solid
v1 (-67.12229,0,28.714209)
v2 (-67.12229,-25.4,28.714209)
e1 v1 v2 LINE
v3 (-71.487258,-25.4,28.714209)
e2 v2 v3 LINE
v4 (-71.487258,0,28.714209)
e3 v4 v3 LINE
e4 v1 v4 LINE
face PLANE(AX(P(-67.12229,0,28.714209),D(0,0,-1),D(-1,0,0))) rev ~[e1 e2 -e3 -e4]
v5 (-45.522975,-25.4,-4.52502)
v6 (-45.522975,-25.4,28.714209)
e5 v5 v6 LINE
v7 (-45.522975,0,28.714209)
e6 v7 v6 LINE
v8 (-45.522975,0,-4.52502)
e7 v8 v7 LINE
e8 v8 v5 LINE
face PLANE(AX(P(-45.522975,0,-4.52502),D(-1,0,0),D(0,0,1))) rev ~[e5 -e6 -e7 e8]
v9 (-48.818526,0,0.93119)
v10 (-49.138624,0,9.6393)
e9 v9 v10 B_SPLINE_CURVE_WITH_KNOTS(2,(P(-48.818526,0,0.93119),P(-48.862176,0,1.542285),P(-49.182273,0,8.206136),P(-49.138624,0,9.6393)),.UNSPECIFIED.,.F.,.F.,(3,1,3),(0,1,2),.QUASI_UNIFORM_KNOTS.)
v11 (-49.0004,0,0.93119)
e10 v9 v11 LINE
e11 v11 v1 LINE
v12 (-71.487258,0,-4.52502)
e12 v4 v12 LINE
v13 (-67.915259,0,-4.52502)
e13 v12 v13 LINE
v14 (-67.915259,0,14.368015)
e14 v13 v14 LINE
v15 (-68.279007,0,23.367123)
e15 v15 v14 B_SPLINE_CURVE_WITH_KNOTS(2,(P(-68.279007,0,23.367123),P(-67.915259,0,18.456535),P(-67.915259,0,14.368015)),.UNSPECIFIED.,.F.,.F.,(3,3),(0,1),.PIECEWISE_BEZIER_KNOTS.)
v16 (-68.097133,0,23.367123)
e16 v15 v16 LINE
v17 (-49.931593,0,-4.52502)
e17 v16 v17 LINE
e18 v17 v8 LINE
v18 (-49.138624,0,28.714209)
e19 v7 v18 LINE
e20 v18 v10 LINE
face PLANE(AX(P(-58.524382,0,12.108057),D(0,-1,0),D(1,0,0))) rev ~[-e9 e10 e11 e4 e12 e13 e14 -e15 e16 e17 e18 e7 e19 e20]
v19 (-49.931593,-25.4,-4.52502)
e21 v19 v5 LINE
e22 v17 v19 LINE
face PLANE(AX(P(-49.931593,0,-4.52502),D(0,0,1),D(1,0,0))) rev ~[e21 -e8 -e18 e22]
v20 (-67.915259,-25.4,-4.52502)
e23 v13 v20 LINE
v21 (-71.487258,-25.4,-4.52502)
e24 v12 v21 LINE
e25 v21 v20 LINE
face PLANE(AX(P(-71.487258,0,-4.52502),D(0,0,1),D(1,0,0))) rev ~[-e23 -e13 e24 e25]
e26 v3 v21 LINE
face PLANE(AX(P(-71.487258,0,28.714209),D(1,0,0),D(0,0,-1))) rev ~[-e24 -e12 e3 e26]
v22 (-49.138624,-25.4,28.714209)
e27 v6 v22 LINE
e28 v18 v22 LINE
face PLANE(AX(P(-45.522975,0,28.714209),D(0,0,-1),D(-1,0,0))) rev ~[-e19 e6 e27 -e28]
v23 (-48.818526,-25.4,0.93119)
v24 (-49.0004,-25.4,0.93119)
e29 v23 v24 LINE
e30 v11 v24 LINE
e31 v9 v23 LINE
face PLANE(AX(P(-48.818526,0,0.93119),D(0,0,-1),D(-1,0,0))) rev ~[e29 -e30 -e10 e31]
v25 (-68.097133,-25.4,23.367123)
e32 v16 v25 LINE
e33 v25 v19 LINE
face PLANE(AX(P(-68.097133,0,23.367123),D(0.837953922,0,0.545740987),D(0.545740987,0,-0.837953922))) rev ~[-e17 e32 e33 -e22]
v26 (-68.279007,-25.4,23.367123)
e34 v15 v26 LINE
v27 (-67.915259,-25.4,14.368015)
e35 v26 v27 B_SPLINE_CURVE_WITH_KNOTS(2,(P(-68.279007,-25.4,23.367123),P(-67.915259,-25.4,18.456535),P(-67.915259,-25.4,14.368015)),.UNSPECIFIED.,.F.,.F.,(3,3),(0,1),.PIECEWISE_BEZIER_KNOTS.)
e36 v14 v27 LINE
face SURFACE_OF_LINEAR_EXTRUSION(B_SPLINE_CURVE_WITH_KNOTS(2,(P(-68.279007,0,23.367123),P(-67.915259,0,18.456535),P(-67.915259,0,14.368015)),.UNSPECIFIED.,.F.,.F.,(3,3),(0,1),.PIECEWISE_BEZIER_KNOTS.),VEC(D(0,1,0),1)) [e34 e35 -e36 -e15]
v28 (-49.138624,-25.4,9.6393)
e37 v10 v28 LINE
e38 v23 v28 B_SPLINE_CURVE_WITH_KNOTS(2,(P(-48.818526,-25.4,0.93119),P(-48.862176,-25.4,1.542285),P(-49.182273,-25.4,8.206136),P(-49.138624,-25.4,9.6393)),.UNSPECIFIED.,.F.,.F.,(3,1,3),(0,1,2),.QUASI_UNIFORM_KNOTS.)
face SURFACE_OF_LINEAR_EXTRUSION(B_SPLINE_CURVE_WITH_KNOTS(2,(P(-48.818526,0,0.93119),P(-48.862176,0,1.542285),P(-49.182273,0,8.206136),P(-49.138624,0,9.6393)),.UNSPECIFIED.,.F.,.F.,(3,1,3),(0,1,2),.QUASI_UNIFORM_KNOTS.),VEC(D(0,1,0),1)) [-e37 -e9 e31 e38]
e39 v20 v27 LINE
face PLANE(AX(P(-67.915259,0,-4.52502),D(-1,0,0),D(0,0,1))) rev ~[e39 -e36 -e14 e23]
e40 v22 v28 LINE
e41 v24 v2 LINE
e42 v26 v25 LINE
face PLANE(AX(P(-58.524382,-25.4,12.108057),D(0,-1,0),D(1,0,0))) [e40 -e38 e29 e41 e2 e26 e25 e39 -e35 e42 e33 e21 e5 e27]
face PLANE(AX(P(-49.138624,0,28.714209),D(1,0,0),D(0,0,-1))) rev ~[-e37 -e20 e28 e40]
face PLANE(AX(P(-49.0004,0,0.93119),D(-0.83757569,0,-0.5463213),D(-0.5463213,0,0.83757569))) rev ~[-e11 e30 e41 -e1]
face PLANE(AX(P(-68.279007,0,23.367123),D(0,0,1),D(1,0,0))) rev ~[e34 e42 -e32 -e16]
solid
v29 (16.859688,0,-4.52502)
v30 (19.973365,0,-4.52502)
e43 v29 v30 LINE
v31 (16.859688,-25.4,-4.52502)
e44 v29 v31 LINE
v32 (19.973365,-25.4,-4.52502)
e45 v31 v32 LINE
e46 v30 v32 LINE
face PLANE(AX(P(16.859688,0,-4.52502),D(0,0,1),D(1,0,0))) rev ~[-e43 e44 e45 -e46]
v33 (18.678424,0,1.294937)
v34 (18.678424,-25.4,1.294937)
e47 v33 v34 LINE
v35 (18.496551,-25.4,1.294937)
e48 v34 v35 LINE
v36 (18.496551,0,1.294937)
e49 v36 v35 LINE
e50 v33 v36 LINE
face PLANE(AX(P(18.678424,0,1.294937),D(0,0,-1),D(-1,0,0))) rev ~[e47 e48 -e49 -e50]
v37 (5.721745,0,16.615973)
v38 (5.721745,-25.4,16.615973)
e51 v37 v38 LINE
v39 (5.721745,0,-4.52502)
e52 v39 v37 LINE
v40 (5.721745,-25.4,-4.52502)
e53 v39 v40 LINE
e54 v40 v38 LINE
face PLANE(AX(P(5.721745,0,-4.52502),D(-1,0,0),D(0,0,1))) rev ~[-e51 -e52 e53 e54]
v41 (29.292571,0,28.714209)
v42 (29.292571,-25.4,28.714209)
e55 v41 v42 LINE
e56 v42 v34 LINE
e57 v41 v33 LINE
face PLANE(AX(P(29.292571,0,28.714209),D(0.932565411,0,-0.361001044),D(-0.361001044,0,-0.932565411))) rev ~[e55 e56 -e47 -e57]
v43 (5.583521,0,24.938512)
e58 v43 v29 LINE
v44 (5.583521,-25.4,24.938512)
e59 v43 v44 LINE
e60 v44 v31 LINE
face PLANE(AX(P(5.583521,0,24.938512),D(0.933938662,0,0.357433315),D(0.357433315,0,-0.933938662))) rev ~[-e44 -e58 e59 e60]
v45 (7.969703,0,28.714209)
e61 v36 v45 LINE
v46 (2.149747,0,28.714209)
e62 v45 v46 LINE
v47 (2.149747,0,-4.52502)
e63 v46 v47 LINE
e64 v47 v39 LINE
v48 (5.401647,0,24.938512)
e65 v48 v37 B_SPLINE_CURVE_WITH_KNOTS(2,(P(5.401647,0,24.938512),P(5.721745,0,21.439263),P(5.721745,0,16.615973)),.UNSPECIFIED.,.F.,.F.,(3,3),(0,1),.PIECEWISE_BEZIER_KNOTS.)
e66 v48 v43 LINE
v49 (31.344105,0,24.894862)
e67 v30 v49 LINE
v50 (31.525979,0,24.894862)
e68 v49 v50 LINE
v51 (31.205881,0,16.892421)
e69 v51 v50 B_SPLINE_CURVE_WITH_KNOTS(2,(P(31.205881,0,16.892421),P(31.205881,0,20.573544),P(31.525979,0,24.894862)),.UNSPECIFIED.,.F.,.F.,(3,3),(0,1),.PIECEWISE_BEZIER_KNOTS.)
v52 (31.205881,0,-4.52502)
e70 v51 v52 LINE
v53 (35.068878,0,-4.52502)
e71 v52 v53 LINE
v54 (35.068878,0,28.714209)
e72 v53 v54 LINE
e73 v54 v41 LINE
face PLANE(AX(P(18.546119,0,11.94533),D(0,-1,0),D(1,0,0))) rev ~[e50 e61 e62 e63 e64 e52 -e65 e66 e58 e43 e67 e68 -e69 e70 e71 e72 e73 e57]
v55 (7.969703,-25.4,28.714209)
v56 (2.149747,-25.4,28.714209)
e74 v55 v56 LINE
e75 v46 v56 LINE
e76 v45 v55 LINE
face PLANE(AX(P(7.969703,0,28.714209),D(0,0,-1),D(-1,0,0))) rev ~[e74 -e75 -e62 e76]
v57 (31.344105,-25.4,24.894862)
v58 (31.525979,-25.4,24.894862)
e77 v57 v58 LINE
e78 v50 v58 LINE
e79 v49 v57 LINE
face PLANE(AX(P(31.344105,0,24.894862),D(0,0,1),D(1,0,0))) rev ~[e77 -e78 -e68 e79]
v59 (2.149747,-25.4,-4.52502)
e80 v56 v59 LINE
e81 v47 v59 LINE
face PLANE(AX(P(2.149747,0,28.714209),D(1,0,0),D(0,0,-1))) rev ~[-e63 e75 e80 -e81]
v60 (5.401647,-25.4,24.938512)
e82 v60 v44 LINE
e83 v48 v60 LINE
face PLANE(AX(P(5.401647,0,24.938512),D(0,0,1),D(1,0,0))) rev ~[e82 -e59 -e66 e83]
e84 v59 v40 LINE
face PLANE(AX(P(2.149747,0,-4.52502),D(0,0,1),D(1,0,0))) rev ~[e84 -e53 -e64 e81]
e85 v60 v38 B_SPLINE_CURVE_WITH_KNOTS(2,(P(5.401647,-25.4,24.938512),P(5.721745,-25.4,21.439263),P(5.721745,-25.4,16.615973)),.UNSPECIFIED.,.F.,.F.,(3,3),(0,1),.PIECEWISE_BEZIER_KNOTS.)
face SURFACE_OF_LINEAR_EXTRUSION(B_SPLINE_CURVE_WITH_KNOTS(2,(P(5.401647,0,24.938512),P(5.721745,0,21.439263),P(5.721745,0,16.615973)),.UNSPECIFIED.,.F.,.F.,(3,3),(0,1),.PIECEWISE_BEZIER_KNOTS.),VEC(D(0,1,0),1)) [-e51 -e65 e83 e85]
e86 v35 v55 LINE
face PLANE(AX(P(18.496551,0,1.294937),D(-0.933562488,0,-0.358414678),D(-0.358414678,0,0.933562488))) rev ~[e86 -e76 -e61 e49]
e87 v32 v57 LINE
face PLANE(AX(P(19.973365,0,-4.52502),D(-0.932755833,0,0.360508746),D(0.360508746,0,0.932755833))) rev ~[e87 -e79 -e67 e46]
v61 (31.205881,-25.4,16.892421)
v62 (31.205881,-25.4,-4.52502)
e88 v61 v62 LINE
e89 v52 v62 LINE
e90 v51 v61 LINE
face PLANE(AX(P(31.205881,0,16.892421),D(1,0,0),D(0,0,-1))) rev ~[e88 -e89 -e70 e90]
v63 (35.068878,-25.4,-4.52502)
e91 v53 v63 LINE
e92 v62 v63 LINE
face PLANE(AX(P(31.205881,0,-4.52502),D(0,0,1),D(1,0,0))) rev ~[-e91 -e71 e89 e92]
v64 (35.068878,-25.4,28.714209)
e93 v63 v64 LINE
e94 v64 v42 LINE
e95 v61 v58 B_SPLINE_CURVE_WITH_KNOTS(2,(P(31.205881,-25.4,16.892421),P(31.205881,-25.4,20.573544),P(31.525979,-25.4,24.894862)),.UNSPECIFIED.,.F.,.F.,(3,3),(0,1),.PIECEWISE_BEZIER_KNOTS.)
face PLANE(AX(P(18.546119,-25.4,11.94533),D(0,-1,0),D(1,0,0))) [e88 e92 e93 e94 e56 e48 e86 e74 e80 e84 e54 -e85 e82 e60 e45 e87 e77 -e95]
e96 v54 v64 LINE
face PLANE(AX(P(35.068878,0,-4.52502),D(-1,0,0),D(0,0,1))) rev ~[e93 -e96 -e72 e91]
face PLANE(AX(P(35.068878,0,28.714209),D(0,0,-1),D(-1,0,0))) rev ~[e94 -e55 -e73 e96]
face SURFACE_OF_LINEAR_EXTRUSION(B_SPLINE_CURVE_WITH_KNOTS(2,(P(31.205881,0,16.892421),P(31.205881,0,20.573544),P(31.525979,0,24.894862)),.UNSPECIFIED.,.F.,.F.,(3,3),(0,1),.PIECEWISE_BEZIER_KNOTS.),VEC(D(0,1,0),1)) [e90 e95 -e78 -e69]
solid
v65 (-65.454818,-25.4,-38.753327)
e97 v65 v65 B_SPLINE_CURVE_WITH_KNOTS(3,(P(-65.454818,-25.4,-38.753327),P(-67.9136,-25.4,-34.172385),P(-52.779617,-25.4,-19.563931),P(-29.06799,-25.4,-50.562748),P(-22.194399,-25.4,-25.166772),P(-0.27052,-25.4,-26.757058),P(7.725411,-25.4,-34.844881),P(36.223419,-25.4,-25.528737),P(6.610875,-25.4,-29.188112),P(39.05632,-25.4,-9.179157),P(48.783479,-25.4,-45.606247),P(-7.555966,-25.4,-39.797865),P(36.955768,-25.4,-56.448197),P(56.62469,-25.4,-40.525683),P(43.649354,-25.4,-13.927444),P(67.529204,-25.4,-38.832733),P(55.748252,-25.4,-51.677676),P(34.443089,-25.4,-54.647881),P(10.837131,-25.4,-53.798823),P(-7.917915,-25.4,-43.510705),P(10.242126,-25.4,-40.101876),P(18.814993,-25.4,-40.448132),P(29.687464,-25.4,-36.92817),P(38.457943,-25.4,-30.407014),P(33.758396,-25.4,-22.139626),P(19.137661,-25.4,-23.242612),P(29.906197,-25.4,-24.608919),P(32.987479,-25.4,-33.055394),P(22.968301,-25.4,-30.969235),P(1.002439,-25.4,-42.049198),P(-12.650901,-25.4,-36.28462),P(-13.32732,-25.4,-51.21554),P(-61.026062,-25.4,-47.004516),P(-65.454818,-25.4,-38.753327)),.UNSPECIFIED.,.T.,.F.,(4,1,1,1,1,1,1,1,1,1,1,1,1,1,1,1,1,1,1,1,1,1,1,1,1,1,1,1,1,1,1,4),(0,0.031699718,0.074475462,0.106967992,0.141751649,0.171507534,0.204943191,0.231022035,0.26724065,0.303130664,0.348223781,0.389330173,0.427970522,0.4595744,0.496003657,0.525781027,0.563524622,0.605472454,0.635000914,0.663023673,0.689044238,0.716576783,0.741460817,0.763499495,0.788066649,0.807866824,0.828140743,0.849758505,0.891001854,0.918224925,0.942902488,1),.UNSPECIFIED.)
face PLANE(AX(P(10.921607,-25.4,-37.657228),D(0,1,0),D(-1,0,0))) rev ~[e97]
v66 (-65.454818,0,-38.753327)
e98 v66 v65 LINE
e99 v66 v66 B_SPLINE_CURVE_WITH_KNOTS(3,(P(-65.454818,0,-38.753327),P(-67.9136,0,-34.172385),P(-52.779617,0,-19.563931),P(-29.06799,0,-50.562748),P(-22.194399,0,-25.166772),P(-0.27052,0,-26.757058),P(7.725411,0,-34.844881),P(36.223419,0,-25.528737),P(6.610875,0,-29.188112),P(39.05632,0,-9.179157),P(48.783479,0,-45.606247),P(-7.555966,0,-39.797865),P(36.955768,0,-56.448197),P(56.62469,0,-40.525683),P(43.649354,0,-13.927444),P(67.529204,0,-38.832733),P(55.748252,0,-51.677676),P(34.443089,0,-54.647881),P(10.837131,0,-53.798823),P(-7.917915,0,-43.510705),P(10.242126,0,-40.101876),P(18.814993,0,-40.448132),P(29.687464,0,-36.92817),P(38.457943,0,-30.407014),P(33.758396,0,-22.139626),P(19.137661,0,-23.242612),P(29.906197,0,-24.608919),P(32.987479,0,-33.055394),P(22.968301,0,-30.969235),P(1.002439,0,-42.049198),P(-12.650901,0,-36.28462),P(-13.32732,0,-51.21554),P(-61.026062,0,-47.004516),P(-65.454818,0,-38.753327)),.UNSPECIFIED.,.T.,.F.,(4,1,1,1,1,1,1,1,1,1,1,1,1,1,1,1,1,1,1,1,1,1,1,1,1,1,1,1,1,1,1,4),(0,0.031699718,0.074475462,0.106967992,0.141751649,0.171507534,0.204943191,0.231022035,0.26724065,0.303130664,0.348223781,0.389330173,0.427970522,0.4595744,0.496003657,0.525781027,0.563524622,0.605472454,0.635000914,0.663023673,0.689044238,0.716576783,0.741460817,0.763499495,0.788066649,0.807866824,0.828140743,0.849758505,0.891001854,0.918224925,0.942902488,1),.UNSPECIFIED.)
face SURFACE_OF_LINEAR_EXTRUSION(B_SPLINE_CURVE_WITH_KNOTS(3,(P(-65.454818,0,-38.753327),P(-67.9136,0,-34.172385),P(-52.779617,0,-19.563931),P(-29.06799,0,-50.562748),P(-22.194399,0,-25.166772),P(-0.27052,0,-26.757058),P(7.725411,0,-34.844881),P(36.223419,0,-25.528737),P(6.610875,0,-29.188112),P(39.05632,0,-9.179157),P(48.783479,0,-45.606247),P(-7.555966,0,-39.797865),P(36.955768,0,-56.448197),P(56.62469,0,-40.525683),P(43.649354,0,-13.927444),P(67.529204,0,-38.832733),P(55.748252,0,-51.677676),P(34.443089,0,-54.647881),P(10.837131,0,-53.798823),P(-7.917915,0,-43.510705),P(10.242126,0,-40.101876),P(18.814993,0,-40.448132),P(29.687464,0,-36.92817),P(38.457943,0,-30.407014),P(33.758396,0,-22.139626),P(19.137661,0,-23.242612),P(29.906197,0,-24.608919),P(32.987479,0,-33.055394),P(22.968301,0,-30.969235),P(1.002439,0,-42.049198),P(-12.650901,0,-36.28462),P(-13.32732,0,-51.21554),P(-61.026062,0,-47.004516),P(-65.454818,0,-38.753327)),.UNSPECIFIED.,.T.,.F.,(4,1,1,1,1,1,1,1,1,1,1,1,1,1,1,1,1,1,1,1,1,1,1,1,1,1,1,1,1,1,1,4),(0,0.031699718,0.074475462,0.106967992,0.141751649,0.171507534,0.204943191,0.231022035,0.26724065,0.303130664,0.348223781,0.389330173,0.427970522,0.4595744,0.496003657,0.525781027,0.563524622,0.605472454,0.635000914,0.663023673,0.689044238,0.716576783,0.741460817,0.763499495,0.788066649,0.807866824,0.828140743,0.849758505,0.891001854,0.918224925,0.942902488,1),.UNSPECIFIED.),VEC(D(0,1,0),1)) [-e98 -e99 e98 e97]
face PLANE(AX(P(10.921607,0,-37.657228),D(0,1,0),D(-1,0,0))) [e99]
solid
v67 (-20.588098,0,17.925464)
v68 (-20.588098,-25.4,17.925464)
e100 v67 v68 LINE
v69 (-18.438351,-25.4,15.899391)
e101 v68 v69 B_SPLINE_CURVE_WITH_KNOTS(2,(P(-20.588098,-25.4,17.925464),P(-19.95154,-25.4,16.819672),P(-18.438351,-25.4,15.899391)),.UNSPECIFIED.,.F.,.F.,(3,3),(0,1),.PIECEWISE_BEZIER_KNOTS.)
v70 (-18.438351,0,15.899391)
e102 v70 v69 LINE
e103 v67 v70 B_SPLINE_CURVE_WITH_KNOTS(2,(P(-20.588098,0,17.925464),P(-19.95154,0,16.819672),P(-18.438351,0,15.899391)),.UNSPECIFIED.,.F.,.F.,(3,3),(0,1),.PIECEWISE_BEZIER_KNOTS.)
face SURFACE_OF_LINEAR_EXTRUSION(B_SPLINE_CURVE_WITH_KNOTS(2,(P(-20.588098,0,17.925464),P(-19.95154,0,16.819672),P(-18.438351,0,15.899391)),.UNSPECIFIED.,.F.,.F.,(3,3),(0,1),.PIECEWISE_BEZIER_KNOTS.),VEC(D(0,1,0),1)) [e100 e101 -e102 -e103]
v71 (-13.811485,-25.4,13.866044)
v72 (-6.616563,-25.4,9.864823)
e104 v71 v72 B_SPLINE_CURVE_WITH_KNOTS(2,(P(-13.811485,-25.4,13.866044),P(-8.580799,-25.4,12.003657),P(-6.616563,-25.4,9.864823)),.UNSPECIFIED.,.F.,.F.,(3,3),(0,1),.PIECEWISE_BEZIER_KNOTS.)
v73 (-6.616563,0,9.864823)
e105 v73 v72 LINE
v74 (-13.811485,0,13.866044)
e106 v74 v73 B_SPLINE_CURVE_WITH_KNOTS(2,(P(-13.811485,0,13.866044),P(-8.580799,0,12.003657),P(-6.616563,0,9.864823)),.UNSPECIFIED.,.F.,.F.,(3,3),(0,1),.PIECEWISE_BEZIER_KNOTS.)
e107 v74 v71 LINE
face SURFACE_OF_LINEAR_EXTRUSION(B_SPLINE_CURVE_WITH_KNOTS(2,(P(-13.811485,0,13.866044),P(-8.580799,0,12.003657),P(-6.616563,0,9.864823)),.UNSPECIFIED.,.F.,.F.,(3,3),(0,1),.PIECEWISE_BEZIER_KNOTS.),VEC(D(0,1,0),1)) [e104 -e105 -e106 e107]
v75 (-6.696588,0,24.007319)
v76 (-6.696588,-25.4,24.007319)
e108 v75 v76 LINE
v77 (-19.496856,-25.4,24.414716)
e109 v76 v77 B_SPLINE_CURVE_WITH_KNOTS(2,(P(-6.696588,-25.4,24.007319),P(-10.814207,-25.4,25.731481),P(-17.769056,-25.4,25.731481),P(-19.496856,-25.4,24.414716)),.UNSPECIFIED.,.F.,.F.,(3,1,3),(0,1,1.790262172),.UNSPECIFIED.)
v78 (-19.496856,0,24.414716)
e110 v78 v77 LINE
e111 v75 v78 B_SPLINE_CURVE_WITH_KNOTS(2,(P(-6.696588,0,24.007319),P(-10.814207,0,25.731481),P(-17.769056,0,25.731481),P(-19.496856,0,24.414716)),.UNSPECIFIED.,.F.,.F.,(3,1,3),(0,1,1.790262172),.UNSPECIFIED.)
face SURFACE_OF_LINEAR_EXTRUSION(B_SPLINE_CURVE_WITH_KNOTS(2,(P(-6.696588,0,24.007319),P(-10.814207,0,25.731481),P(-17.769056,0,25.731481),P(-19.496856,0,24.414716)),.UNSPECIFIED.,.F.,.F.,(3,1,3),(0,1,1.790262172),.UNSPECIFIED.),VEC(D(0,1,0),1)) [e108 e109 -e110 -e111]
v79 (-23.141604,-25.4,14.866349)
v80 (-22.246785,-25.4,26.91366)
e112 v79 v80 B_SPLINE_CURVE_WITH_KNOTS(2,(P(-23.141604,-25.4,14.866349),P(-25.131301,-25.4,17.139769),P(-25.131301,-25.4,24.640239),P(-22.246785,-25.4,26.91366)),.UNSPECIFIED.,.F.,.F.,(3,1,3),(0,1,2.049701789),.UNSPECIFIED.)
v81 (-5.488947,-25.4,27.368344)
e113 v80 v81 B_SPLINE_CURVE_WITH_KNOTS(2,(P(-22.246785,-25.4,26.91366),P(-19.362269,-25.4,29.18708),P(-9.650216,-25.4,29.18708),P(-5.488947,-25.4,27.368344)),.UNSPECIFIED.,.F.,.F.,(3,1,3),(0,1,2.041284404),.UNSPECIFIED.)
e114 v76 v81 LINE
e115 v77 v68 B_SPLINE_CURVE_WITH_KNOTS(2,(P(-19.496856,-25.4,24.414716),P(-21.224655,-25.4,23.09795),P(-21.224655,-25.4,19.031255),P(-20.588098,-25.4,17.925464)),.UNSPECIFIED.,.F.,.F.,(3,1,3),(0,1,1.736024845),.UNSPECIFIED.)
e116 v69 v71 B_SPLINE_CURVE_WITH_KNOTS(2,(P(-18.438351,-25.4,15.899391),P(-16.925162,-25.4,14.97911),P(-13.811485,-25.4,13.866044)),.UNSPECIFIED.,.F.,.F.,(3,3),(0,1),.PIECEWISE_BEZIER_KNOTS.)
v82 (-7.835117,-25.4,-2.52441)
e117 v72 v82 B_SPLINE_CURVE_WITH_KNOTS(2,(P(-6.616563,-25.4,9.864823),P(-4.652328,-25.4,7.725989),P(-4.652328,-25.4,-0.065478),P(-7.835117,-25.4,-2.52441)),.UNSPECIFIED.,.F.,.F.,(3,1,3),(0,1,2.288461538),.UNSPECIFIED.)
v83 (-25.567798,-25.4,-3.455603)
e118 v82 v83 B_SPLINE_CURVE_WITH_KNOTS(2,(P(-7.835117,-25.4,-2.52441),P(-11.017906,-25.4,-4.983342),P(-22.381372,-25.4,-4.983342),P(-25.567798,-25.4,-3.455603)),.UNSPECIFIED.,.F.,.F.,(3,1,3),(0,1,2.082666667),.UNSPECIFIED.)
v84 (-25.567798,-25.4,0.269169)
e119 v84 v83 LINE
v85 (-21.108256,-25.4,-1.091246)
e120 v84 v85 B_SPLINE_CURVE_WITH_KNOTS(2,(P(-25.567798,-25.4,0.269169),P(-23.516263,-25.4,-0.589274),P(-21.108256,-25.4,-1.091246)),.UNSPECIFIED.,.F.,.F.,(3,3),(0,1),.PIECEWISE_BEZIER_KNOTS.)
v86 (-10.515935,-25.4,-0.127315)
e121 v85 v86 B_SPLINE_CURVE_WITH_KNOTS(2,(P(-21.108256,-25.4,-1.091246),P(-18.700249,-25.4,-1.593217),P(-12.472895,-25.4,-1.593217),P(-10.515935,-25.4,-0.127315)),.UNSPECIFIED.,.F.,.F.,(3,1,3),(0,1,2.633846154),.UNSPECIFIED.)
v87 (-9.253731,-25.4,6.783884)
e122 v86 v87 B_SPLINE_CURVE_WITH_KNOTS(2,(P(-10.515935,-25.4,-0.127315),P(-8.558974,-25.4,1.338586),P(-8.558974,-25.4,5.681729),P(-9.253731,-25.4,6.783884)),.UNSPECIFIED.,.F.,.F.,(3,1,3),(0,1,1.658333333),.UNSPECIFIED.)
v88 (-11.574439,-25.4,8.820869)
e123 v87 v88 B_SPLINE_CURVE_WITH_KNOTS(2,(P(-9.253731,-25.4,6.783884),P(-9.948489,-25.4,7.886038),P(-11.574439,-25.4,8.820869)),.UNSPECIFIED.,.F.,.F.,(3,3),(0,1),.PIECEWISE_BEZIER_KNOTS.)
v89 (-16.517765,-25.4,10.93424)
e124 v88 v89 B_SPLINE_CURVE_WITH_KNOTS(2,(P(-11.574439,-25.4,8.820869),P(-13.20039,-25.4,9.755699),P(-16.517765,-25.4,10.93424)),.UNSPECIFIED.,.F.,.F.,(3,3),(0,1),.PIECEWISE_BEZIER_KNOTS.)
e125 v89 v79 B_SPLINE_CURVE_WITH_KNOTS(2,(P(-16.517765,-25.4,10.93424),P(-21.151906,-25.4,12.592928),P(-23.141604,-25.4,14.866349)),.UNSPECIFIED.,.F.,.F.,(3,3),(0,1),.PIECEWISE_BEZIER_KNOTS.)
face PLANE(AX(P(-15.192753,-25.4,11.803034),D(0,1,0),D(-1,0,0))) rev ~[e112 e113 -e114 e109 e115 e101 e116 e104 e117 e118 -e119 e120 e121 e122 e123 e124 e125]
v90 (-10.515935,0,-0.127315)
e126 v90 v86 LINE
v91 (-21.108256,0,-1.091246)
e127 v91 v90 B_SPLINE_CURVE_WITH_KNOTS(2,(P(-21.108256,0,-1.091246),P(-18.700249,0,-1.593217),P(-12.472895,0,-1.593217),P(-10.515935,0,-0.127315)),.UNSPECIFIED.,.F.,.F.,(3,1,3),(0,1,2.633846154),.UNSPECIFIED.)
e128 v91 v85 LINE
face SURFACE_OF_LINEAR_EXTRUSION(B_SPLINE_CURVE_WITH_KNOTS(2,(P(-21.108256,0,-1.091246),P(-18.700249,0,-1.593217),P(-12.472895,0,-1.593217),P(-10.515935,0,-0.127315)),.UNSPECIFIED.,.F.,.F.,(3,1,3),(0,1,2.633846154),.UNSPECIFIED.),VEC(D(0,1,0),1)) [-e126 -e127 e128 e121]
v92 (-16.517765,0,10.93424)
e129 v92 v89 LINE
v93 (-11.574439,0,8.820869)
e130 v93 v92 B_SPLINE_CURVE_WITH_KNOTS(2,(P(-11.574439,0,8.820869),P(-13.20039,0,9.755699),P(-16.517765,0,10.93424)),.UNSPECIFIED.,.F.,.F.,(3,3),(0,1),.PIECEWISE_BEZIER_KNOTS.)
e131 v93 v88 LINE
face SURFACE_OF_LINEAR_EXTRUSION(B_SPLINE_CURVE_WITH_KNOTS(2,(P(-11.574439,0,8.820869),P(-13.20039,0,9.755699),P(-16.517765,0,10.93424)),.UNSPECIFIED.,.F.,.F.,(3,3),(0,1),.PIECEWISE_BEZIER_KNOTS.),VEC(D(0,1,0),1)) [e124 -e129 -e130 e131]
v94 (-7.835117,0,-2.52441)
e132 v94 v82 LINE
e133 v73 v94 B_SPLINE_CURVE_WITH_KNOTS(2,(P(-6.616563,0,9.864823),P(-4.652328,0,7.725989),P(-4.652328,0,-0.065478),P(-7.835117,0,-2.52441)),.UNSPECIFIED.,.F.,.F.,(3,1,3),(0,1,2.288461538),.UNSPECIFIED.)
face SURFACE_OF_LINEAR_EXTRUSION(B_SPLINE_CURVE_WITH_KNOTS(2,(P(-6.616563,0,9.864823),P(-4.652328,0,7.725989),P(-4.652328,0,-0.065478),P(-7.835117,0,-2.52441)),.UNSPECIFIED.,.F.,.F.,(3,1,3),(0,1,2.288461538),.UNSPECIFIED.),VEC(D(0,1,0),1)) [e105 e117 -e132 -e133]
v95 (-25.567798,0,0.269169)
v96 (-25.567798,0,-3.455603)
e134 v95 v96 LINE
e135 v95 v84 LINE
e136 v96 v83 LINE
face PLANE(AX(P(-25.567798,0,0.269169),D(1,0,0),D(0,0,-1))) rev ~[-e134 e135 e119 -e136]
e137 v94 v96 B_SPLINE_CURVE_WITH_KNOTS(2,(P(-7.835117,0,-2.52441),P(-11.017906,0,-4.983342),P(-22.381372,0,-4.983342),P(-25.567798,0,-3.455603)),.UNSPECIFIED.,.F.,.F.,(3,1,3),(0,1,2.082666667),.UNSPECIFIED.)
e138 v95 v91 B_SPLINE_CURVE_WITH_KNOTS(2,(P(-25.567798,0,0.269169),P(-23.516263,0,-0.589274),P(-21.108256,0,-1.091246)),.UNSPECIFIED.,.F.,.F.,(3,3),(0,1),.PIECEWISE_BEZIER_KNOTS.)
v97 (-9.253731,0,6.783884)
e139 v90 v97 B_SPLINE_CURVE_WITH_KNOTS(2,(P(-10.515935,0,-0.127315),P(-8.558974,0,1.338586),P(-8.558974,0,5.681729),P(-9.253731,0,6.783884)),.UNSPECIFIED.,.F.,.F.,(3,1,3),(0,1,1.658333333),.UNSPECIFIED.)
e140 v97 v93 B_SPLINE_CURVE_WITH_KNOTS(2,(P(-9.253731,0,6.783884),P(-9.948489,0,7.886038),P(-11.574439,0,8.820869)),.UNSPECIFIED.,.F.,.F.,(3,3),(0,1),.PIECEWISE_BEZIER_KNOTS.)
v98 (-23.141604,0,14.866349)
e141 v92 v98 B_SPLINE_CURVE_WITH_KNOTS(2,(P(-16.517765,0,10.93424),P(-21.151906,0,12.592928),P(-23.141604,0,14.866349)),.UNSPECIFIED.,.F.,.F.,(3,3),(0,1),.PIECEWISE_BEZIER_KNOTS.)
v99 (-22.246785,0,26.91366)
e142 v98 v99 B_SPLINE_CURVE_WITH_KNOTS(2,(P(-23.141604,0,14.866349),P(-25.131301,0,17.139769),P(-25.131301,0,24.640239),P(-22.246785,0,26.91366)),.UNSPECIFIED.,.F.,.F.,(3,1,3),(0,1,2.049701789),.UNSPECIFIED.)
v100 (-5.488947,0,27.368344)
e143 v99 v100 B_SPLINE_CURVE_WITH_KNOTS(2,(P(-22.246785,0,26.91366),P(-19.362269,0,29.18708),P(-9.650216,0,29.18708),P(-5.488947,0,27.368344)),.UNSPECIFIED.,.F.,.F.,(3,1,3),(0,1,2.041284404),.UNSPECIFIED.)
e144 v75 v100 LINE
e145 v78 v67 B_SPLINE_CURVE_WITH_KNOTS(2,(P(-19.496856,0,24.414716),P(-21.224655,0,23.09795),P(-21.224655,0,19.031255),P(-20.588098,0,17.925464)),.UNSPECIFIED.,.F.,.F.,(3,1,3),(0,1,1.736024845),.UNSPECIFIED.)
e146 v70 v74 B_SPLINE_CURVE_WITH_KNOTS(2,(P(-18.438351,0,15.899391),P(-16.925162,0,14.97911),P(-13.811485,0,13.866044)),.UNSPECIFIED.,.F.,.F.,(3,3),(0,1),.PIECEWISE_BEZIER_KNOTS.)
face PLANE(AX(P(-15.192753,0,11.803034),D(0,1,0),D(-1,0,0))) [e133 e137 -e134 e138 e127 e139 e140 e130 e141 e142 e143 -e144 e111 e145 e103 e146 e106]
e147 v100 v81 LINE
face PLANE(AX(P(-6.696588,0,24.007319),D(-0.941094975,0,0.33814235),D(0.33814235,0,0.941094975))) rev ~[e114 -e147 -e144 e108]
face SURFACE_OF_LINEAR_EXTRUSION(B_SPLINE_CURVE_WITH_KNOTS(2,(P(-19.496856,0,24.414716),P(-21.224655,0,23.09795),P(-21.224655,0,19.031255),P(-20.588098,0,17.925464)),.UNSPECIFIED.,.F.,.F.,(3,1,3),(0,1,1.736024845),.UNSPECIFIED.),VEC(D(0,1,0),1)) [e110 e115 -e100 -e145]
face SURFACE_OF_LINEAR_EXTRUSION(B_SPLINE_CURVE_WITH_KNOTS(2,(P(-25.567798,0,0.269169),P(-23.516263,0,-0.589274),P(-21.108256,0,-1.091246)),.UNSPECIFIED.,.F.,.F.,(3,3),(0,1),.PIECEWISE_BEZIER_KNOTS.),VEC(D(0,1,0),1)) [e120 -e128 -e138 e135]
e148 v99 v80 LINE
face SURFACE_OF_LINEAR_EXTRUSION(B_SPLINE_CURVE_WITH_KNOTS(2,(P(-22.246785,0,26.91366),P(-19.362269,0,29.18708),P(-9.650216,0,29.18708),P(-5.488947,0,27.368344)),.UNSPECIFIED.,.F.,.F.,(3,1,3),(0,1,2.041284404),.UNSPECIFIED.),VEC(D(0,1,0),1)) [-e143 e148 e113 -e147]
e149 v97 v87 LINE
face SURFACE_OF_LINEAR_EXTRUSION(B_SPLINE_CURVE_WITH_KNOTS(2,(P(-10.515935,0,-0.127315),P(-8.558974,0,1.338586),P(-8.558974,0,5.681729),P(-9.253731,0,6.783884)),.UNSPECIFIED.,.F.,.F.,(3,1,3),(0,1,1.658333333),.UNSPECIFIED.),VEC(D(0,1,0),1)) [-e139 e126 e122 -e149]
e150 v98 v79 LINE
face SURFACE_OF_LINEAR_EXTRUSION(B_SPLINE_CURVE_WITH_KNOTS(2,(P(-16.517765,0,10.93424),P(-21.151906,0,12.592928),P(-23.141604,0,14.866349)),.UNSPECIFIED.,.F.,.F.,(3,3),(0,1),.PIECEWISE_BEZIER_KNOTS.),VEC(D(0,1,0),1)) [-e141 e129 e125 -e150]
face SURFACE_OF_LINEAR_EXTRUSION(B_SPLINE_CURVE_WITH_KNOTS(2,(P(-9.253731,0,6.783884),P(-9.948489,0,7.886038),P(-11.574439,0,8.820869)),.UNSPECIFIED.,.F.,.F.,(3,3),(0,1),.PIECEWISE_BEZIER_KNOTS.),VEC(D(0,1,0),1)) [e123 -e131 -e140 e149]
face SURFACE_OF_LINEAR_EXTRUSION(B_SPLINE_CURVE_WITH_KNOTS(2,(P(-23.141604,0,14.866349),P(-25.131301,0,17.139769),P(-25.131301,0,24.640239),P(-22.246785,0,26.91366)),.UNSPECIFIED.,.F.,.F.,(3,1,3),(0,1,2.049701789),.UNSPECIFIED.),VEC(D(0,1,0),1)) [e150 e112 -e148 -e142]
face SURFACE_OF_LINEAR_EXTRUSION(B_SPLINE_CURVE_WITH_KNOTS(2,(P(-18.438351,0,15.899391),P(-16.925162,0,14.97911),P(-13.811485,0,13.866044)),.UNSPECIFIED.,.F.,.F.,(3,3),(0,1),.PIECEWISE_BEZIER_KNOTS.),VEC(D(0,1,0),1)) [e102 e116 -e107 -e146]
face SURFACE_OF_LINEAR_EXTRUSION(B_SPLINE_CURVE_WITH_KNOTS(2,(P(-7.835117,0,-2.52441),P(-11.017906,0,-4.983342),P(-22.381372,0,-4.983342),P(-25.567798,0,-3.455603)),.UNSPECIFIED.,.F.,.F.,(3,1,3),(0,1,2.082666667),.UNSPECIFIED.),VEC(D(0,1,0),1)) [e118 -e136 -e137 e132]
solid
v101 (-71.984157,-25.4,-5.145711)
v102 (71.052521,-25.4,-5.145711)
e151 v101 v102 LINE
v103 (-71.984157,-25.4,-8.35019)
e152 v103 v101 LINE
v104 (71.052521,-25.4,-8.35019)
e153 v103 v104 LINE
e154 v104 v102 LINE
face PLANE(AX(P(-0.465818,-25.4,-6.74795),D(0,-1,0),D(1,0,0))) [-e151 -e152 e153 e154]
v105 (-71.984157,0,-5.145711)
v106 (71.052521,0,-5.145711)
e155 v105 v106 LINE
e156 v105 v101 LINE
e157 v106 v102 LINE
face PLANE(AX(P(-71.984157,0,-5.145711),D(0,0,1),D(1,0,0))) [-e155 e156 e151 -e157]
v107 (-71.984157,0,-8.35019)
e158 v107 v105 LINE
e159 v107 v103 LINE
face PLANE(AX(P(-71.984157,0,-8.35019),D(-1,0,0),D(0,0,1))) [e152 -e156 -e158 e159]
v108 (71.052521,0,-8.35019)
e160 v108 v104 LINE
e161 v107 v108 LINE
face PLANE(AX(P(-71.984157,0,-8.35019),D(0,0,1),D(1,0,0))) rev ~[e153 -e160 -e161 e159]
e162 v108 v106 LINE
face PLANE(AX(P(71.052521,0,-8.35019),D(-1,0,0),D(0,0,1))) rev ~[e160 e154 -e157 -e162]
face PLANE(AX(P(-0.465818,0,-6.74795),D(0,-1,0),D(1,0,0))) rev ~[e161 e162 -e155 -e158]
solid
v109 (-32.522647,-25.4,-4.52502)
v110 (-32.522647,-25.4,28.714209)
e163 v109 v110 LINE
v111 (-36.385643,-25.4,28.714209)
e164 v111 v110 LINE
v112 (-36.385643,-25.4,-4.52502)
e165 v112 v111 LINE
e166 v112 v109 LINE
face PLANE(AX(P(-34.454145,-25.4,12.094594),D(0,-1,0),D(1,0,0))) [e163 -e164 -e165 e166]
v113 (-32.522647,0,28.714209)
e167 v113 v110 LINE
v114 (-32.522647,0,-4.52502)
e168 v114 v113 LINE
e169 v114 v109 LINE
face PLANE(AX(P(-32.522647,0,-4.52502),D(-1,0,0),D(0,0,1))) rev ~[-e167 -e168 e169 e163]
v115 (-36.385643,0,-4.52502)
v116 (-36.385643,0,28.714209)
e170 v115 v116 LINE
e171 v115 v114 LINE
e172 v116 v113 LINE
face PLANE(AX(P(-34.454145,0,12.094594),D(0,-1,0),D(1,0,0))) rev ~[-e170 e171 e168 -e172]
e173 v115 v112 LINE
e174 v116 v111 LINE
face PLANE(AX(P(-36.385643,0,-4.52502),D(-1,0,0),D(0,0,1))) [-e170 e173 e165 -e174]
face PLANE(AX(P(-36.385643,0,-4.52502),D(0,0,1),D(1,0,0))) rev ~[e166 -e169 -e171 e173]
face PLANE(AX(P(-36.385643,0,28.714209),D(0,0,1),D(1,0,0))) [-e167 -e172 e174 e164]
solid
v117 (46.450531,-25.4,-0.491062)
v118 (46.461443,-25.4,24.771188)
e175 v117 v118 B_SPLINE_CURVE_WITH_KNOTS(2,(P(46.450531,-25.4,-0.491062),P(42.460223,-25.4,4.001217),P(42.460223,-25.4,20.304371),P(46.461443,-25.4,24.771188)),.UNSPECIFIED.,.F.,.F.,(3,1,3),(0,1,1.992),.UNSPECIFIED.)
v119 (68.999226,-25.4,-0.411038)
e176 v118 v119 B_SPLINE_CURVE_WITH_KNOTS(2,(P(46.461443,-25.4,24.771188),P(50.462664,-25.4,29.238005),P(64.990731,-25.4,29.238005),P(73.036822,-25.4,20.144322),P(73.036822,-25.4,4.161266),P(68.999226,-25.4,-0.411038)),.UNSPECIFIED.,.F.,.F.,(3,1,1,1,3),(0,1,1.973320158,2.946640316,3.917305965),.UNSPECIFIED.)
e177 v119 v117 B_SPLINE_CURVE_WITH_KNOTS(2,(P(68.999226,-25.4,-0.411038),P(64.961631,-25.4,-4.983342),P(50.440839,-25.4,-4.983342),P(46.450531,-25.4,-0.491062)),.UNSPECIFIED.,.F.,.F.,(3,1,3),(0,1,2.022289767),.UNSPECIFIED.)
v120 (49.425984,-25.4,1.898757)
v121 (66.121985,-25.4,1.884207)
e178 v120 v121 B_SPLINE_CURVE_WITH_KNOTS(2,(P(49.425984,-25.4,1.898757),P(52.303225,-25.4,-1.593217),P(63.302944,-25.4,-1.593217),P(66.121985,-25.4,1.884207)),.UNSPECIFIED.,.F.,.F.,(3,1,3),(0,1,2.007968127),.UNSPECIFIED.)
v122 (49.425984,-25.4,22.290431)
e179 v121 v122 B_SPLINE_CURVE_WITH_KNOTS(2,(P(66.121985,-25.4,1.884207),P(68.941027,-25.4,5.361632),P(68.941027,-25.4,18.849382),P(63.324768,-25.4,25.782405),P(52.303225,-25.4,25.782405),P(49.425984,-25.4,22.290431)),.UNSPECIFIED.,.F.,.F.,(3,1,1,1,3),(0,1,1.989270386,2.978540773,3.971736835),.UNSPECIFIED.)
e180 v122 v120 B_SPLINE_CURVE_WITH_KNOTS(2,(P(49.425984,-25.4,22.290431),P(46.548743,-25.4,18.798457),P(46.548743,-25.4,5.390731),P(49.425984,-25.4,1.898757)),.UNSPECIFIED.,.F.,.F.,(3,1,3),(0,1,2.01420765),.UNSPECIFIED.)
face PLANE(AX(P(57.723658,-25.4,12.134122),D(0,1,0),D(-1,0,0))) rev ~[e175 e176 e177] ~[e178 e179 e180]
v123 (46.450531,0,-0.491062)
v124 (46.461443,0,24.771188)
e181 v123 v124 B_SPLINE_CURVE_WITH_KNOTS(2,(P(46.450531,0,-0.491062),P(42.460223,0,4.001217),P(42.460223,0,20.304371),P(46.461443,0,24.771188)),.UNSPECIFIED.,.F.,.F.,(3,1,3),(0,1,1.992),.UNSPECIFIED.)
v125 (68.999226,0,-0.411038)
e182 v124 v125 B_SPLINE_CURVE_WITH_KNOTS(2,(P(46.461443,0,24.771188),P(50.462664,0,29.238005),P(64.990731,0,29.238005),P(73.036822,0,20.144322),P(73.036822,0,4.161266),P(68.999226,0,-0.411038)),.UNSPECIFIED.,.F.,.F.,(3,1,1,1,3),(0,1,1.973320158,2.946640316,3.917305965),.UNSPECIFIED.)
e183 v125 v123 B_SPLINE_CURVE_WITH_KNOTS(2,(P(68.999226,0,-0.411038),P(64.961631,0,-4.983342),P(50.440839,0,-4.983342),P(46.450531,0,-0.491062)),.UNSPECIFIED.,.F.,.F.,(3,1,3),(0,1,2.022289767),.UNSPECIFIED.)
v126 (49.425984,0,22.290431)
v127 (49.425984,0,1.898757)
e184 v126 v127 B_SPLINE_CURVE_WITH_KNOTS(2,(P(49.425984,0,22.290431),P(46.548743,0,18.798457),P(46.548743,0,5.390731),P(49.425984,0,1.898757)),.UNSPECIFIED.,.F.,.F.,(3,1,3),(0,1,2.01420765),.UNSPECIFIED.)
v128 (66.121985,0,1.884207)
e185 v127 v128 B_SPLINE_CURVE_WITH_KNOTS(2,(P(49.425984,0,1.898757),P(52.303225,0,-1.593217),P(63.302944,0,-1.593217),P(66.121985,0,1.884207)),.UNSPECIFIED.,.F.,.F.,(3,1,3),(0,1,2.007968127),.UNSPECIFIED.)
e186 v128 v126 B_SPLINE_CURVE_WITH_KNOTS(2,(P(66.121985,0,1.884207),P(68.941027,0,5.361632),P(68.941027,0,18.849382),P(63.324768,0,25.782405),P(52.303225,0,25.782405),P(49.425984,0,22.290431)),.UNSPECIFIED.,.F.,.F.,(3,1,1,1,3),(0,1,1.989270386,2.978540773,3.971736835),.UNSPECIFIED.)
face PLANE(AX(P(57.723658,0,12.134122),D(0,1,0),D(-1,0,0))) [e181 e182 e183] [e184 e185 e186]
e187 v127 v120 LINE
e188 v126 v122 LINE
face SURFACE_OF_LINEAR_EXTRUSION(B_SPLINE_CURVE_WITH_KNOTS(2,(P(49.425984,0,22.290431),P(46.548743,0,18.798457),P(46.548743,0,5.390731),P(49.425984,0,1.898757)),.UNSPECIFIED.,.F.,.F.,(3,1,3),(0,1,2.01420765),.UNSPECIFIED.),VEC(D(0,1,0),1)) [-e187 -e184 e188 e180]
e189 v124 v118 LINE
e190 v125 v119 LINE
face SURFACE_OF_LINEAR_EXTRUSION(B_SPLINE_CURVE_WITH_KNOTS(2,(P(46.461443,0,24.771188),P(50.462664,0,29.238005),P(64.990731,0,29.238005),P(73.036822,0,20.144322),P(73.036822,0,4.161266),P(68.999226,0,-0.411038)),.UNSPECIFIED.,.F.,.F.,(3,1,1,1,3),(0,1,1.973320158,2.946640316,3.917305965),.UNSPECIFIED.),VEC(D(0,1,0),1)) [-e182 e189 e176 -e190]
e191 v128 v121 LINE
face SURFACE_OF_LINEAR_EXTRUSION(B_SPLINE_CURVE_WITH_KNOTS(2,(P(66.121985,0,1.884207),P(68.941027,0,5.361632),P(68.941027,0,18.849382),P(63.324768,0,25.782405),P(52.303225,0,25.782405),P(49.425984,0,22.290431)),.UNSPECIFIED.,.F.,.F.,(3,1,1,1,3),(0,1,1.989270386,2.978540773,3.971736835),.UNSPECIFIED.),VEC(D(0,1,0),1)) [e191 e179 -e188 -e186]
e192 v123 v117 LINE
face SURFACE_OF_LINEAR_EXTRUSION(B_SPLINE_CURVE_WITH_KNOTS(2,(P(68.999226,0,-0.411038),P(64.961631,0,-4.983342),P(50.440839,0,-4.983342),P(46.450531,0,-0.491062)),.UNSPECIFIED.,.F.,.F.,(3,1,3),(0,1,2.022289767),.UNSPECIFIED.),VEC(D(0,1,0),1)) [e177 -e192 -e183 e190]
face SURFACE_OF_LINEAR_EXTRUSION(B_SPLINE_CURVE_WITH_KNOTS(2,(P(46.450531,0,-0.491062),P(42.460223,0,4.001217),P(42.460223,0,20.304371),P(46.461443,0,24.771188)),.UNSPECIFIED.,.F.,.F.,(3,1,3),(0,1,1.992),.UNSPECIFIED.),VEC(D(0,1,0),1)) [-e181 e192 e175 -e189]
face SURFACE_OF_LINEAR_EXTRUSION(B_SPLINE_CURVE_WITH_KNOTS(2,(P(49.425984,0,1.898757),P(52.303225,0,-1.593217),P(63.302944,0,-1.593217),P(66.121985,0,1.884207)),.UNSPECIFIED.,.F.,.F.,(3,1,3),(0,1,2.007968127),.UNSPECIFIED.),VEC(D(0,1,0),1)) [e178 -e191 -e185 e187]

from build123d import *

# Parameters (mm, degrees)
F1_DEPTH = 25.4
F0_W     = 3.8629963886
F0_H     = 33.2392288127
F2_DEPTH = 25.4
F3_DEPTH = 25.4
F4_DEPTH = 25.4
F5_DEPTH = 25.4
F6_W     = 143.0366784334
F6_H     = 3.2044788823
F7_DEPTH = 25.4
F9_DEPTH = 25.4


with BuildPart() as f1:
    # F0 (on Front) → F1 (new body)
    with BuildSketch(Plane.XZ):
        with BuildLine():
            Line((-49.9315926803, -4.5250200819), (-45.5229753328, -4.5250200819))
            Line((-45.5229753328, -4.5250200819), (-45.5229753328, 28.7142087308))
            Line((-45.5229753328, 28.7142087308), (-49.1386235534, 28.7142087308))
            Line((-49.1386235534, 28.7142087308), (-49.1386235534, 9.6393000097))
            add(Edge.make_bspline(
                [(-49.0222244155, 4.8742103024), (-49.1822732301, 8.2061356244), (-49.1386235534, 9.6393000097)],
                knots=[0, 0, 0, 1, 1, 1], degree=2))
            add(Edge.make_bspline(
                [(-48.8185259242, 0.9311895065), (-48.8621756009, 1.5422849804), (-49.0222244155, 4.8742103024)],
                knots=[0, 0, 0, 1, 1, 1], degree=2))
            Line((-48.8185259242, 0.9311895065), (-49.0003995772, 0.9311895065))
            Line((-49.0003995772, 0.9311895065), (-67.1222903569, 28.7142087308))
            Line((-67.1222903569, 28.7142087308), (-71.4872580276, 28.7142087308))
            Line((-71.4872580276, 28.7142087308), (-71.4872580276, -4.5250200819))
            Line((-71.4872580276, -4.5250200819), (-67.9152594837, -4.5250200819))
            Line((-67.9152594837, -4.5250200819), (-67.9152594837, 14.3680149863))
            add(Edge.make_bspline(
                [(-68.2790067896, 23.3671233342), (-67.9152594837, 18.4565347046), (-67.9152594837, 14.3680149863)],
                knots=[0, 0, 0, 1, 1, 1], degree=2))
            Line((-68.2790067896, 23.3671233342), (-68.0971331367, 23.3671233342))
            Line((-68.0971331367, 23.3671233342), (-49.9315926803, -4.5250200819))
        make_face()
    extrude(amount=F1_DEPTH)


with BuildPart() as f2:
    # F0 (on Front) → F2 (new body)
    with BuildSketch(Plane.XZ):
        with Locations((-34.4541448144, 12.0945943245)):
            Rectangle(F0_W, F0_H)
    extrude(amount=F2_DEPTH)


with BuildPart() as f3:
    # F0 (on Front) → F3 (new body)
    with BuildSketch(Plane.XZ):
        with BuildLine():
            add(Edge.make_bspline(
                [(-4.6523280424, 4.3213143975), (-4.6523280424, -0.0654781116), (-7.835116969, -2.5244098995)],
                knots=[0, 0, 0, 1, 1, 1], degree=2))
            add(Edge.make_bspline(
                [(-6.6165634942, 9.8648233393), (-4.6523280424, 7.7259891807), (-4.6523280424, 4.3213143975)],
                knots=[0, 0, 0, 1, 1, 1], degree=2))
            add(Edge.make_bspline(
                [(-13.8114852048, 13.8660437042), (-8.5807989461, 12.003657498), (-6.6165634942, 9.8648233393)],
                knots=[0, 0, 0, 1, 1, 1], degree=2))
            add(Edge.make_bspline(
                [(-18.4383509358, 15.8993911441), (-16.9251621433, 14.9791104602), (-13.8114852048, 13.8660437042)],
                knots=[0, 0, 0, 1, 1, 1], degree=2))
            add(Edge.make_bspline(
                [(-20.5880975137, 17.925463638), (-19.9515397284, 16.819671828), (-18.4383509358, 15.8993911441)],
                knots=[0, 0, 0, 1, 1, 1], degree=2))
            add(Edge.make_bspline(
                [(-21.224655299, 20.7554176778), (-21.224655299, 19.0312554479), (-20.5880975137, 17.925463638)],
                knots=[0, 0, 0, 1, 1, 1], degree=2))
            add(Edge.make_bspline(
                [(-19.496855596, 24.4147155751), (-21.224655299, 23.0979503278), (-21.224655299, 20.7554176778)],
                knots=[0, 0, 0, 1, 1, 1], degree=2))
            add(Edge.make_bspline(
                [(-14.6990286312, 25.7314808225), (-17.769055893, 25.7314808225), (-19.496855596, 24.4147155751)],
                knots=[0, 0, 0, 1, 1, 1], degree=2))
            add(Edge.make_bspline(
                [(-6.6965879015, 24.0073185925), (-10.8142074043, 25.7314808225), (-14.6990286312, 25.7314808225)],
                knots=[0, 0, 0, 1, 1, 1], degree=2))
            Line((-6.6965879015, 24.0073185925), (-5.488946846, 27.368343699))
            add(Edge.make_bspline(
                [(-14.6044543317, 29.1870802285), (-9.6502160254, 29.1870802285), (-5.488946846, 27.368343699)],
                knots=[0, 0, 0, 1, 1, 1], degree=2))
            add(Edge.make_bspline(
                [(-22.2467852286, 26.9136595666), (-19.3622690928, 29.1870802285), (-14.6044543317, 29.1870802285)],
                knots=[0, 0, 0, 1, 1, 1], degree=2))
            add(Edge.make_bspline(
                [(-25.1313013643, 20.7990673545), (-25.1313013643, 24.6402389048), (-22.2467852286, 26.9136595666)],
                knots=[0, 0, 0, 1, 1, 1], degree=2))
            add(Edge.make_bspline(
                [(-23.1416036011, 14.8663487954), (-25.1313013643, 17.1397694572), (-25.1313013643, 20.7990673545)],
                knots=[0, 0, 0, 1, 1, 1], degree=2))
            add(Edge.make_bspline(
                [(-16.5177651607, 10.9342404187), (-21.1519058378, 12.5929281335), (-23.1416036011, 14.8663487954)],
                knots=[0, 0, 0, 1, 1, 1], degree=2))
            add(Edge.make_bspline(
                [(-11.5744392736, 8.8208685714), (-13.2003897309, 9.7556991476), (-16.5177651607, 10.9342404187)],
                knots=[0, 0, 0, 1, 1, 1], degree=2))
            add(Edge.make_bspline(
                [(-9.253731462, 6.7838836584), (-9.9484888162, 7.8860379953), (-11.5744392736, 8.8208685714)],
                knots=[0, 0, 0, 1, 1, 1], degree=2))
            add(Edge.make_bspline(
                [(-8.5589741077, 3.9575670916), (-8.5589741077, 5.6817293215), (-9.253731462, 6.7838836584)],
                knots=[0, 0, 0, 1, 1, 1], degree=2))
            add(Edge.make_bspline(
                [(-10.5159346134, -0.1273151536), (-8.5589741077, 1.3385864891), (-8.5589741077, 3.9575670916)],
                knots=[0, 0, 0, 1, 1, 1], degree=2))
            add(Edge.make_bspline(
                [(-16.3358915078, -1.5932167964), (-12.4728951192, -1.5932167964), (-10.5159346134, -0.1273151536)],
                knots=[0, 0, 0, 1, 1, 1], degree=2))
            add(Edge.make_bspline(
                [(-21.1082561611, -1.0912455142), (-18.7002489961, -1.5932167964), (-16.3358915078, -1.5932167964)],
                knots=[0, 0, 0, 1, 1, 1], degree=2))
            add(Edge.make_bspline(
                [(-25.5677981314, 0.2691694098), (-23.5162633261, -0.5892742321), (-21.1082561611, -1.0912455142)],
                knots=[0, 0, 0, 1, 1, 1], degree=2))
            Line((-25.5677981314, 0.2691694098), (-25.5677981314, -3.4556030026))
            add(Edge.make_bspline(
                [(-16.474115484, -4.9833416873), (-22.3813717317, -4.9833416873), (-25.5677981314, -3.4556030026)],
                knots=[0, 0, 0, 1, 1, 1], degree=2))
            add(Edge.make_bspline(
                [(-7.835116969, -2.5244098995), (-11.0179058956, -4.9833416873), (-16.474115484, -4.9833416873)],
                knots=[0, 0, 0, 1, 1, 1], degree=2))
        make_face()
    extrude(amount=F3_DEPTH)


with BuildPart() as f4:
    # F0 (on Front) → F4 (new body)
    with BuildSketch(Plane.XZ):
        with BuildLine():
            Line((5.5835211455, 24.9385116956), (16.8596876282, -4.5250200819))
            Line((16.8596876282, -4.5250200819), (19.9733645667, -4.5250200819))
            Line((19.9733645667, -4.5250200819), (31.344105349, 24.8948620189))
            Line((31.344105349, 24.8948620189), (31.5259790019, 24.8948620189))
            add(Edge.make_bspline(
                [(31.2058813728, 16.8924212892), (31.2058813728, 20.5735440249), (31.5259790019, 24.8948620189)],
                knots=[0, 0, 0, 1, 1, 1], degree=2))
            Line((31.2058813728, 16.8924212892), (31.2058813728, -4.5250200819))
            Line((31.2058813728, -4.5250200819), (35.0688777614, -4.5250200819))
            Line((35.0688777614, -4.5250200819), (35.0688777614, 28.7142087308))
            Line((35.0688777614, 28.7142087308), (29.2925705438, 28.7142087308))
            Line((29.2925705438, 28.7142087308), (18.6784241577, 1.2949368124))
            Line((18.6784241577, 1.2949368124), (18.4965505048, 1.2949368124))
            Line((18.4965505048, 1.2949368124), (7.9697034722, 28.7142087308))
            Line((7.9697034722, 28.7142087308), (2.1497465778, 28.7142087308))
            Line((2.1497465778, 28.7142087308), (2.1497465778, -4.5250200819))
            Line((2.1497465778, -4.5250200819), (5.7217451217, -4.5250200819))
            Line((5.7217451217, -4.5250200819), (5.7217451217, 16.6159733367))
            add(Edge.make_bspline(
                [(5.4016474925, 24.9385116956), (5.7217451217, 21.4392626129), (5.7217451217, 16.6159733367)],
                knots=[0, 0, 0, 1, 1, 1], degree=2))
            Line((5.4016474925, 24.9385116956), (5.5835211455, 24.9385116956))
        make_face()
    extrude(amount=F4_DEPTH)


with BuildPart() as f5:
    # F0 (on Front) → F5 (new body)
    with BuildSketch(Plane.XZ):
        with BuildLine():
            add(Edge.make_bspline(
                [(73.0368215507, 12.1418814742), (73.0368215507, 4.1612655829), (68.9992264553, -0.4110380522)],
                knots=[0, 0, 0, 1, 1, 1], degree=2))
            add(Edge.make_bspline(
                [(69.0137763475, 24.6911635276), (73.0368215507, 20.1443222039), (73.0368215507, 12.1418814742)],
                knots=[0, 0, 0, 1, 1, 1], degree=2))
            add(Edge.make_bspline(
                [(57.8249092182, 29.2380048513), (64.9907311443, 29.2380048513), (69.0137763475, 24.6911635276)],
                knots=[0, 0, 0, 1, 1, 1], degree=2))
            add(Edge.make_bspline(
                [(46.461443382, 24.7711879349), (50.4626637469, 29.2380048513), (57.8249092182, 29.2380048513)],
                knots=[0, 0, 0, 1, 1, 1], degree=2))
            add(Edge.make_bspline(
                [(42.4602230172, 12.1855311509), (42.4602230172, 20.3043710185), (46.461443382, 24.7711879349)],
                knots=[0, 0, 0, 1, 1, 1], degree=2))
            add(Edge.make_bspline(
                [(46.4505309628, -0.4910624595), (42.4602230172, 4.0012167683), (42.4602230172, 12.1855311509)],
                knots=[0, 0, 0, 1, 1, 1], degree=2))
            add(Edge.make_bspline(
                [(57.7812595415, -4.9833416873), (50.4408389085, -4.9833416873), (46.4505309628, -0.4910624595)],
                knots=[0, 0, 0, 1, 1, 1], degree=2))
            add(Edge.make_bspline(
                [(68.9992264553, -0.4110380522), (64.9616313598, -4.9833416873), (57.7812595415, -4.9833416873)],
                knots=[0, 0, 0, 1, 1, 1], degree=2))
        make_face()
        with BuildLine():
            add(Edge.make_bspline(
                [(46.5487427354, 12.1418814742), (46.5487427354, 5.3907314768), (49.4259839251, 1.8987573402)],
                knots=[0, 0, 0, 1, 1, 1], degree=2))
            add(Edge.make_bspline(
                [(49.4259839251, 22.2904313087), (46.5487427354, 18.7984571721), (46.5487427354, 12.1418814742)],
                knots=[0, 0, 0, 1, 1, 1], degree=2))
            add(Edge.make_bspline(
                [(57.8249092182, 25.7824054453), (52.3032251147, 25.7824054453), (49.4259839251, 22.2904313087)],
                knots=[0, 0, 0, 1, 1, 1], degree=2))
            add(Edge.make_bspline(
                [(66.1328976848, 22.3158936201), (63.3247684833, 25.7824054453), (57.8249092182, 25.7824054453)],
                knots=[0, 0, 0, 1, 1, 1], degree=2))
            add(Edge.make_bspline(
                [(68.9410268863, 12.1418814742), (68.9410268863, 18.8493817949), (66.1328976848, 22.3158936201)],
                knots=[0, 0, 0, 1, 1, 1], degree=2))
            add(Edge.make_bspline(
                [(66.1219852657, 1.884207448), (68.9410268863, 5.3616316923), (68.9410268863, 12.1418814742)],
                knots=[0, 0, 0, 1, 1, 1], degree=2))
            add(Edge.make_bspline(
                [(57.7812595415, -1.5932167964), (63.302943645, -1.5932167964), (66.1219852657, 1.884207448)],
                knots=[0, 0, 0, 1, 1, 1], degree=2))
            add(Edge.make_bspline(
                [(49.4259839251, 1.8987573402), (52.3032251147, -1.5932167964), (57.7812595415, -1.5932167964)],
                knots=[0, 0, 0, 1, 1, 1], degree=2))
        make_face(mode=Mode.SUBTRACT)
    extrude(amount=F5_DEPTH)


with BuildPart() as f7:
    # F6 (on Front) → F7 (new body)
    with BuildSketch(Plane.XZ):
        with Locations((-0.4658177495, -6.7479503341)):
            Rectangle(F6_W, F6_H)
    extrude(amount=F7_DEPTH)


with BuildPart() as f9:
    # F8 (on Front) → F9 (new body)
    with BuildSketch(Plane.XZ):
        with BuildLine():
            add(Edge.make_bspline(
                [(-65.4548183084, -38.7533269823), (-67.9136002828, -34.1723852713), (-52.7796165926, -19.5639312284), (-29.0679897735, -50.5627478548), (-22.1943989597, -25.1667722477), (-0.2705196485, -26.7570577783), (7.7254112356, -34.8448805293), (36.2234194101, -25.5287365435), (6.6108754188, -29.1881115793), (39.0563201253, -9.1791569172), (48.7834790673, -45.6062465385), (-7.5559657431, -39.7978653477), (36.9557683882, -56.4481971063), (56.6246903802, -40.5256834432), (43.6493543952, -13.9274443738), (67.5292038446, -38.8327325953), (55.748251736, -51.6776760468), (34.4430889356, -54.6478806179), (10.8371313246, -53.7988233242), (-7.9179148982, -43.5107047168), (10.2421257485, -40.1018762879), (18.8149934982, -40.4481323078), (29.6874641224, -36.9281702737), (38.4579425579, -30.4070144897), (33.7583964768, -22.1396261207), (19.1376610388, -23.2426123135), (29.9061968746, -24.6089190889), (32.9874785299, -33.0553943262), (22.9683011584, -30.9692351592), (1.0024392117, -42.0491982894), (-12.6509007652, -36.2846195873), (-13.3273202656, -51.2155400627), (-61.02606181, -47.0045162222), (-65.4548183084, -38.7533269823)],
                knots=[0, 0, 0, 0, 0.0316997181, 0.0744754617, 0.1069679921, 0.1417516488, 0.1715075341, 0.2049431905, 0.2310220347, 0.2672406503, 0.3031306644, 0.3482237807, 0.3893301734, 0.427970522, 0.4595744005, 0.4960036569, 0.5257810265, 0.563524622, 0.6054724537, 0.6350009137, 0.6630236727, 0.6890442377, 0.7165767826, 0.7414608168, 0.7634994955, 0.7880666491, 0.8078668243, 0.8281407425, 0.8497585054, 0.8910018539, 0.9182249246, 0.9429024883, 1, 1, 1, 1], degree=3))
        make_face()
    extrude(amount=F9_DEPTH)


solid = Compound([f1.part, f2.part, f3.part, f4.part, f5.part, f7.part, f9.part])
